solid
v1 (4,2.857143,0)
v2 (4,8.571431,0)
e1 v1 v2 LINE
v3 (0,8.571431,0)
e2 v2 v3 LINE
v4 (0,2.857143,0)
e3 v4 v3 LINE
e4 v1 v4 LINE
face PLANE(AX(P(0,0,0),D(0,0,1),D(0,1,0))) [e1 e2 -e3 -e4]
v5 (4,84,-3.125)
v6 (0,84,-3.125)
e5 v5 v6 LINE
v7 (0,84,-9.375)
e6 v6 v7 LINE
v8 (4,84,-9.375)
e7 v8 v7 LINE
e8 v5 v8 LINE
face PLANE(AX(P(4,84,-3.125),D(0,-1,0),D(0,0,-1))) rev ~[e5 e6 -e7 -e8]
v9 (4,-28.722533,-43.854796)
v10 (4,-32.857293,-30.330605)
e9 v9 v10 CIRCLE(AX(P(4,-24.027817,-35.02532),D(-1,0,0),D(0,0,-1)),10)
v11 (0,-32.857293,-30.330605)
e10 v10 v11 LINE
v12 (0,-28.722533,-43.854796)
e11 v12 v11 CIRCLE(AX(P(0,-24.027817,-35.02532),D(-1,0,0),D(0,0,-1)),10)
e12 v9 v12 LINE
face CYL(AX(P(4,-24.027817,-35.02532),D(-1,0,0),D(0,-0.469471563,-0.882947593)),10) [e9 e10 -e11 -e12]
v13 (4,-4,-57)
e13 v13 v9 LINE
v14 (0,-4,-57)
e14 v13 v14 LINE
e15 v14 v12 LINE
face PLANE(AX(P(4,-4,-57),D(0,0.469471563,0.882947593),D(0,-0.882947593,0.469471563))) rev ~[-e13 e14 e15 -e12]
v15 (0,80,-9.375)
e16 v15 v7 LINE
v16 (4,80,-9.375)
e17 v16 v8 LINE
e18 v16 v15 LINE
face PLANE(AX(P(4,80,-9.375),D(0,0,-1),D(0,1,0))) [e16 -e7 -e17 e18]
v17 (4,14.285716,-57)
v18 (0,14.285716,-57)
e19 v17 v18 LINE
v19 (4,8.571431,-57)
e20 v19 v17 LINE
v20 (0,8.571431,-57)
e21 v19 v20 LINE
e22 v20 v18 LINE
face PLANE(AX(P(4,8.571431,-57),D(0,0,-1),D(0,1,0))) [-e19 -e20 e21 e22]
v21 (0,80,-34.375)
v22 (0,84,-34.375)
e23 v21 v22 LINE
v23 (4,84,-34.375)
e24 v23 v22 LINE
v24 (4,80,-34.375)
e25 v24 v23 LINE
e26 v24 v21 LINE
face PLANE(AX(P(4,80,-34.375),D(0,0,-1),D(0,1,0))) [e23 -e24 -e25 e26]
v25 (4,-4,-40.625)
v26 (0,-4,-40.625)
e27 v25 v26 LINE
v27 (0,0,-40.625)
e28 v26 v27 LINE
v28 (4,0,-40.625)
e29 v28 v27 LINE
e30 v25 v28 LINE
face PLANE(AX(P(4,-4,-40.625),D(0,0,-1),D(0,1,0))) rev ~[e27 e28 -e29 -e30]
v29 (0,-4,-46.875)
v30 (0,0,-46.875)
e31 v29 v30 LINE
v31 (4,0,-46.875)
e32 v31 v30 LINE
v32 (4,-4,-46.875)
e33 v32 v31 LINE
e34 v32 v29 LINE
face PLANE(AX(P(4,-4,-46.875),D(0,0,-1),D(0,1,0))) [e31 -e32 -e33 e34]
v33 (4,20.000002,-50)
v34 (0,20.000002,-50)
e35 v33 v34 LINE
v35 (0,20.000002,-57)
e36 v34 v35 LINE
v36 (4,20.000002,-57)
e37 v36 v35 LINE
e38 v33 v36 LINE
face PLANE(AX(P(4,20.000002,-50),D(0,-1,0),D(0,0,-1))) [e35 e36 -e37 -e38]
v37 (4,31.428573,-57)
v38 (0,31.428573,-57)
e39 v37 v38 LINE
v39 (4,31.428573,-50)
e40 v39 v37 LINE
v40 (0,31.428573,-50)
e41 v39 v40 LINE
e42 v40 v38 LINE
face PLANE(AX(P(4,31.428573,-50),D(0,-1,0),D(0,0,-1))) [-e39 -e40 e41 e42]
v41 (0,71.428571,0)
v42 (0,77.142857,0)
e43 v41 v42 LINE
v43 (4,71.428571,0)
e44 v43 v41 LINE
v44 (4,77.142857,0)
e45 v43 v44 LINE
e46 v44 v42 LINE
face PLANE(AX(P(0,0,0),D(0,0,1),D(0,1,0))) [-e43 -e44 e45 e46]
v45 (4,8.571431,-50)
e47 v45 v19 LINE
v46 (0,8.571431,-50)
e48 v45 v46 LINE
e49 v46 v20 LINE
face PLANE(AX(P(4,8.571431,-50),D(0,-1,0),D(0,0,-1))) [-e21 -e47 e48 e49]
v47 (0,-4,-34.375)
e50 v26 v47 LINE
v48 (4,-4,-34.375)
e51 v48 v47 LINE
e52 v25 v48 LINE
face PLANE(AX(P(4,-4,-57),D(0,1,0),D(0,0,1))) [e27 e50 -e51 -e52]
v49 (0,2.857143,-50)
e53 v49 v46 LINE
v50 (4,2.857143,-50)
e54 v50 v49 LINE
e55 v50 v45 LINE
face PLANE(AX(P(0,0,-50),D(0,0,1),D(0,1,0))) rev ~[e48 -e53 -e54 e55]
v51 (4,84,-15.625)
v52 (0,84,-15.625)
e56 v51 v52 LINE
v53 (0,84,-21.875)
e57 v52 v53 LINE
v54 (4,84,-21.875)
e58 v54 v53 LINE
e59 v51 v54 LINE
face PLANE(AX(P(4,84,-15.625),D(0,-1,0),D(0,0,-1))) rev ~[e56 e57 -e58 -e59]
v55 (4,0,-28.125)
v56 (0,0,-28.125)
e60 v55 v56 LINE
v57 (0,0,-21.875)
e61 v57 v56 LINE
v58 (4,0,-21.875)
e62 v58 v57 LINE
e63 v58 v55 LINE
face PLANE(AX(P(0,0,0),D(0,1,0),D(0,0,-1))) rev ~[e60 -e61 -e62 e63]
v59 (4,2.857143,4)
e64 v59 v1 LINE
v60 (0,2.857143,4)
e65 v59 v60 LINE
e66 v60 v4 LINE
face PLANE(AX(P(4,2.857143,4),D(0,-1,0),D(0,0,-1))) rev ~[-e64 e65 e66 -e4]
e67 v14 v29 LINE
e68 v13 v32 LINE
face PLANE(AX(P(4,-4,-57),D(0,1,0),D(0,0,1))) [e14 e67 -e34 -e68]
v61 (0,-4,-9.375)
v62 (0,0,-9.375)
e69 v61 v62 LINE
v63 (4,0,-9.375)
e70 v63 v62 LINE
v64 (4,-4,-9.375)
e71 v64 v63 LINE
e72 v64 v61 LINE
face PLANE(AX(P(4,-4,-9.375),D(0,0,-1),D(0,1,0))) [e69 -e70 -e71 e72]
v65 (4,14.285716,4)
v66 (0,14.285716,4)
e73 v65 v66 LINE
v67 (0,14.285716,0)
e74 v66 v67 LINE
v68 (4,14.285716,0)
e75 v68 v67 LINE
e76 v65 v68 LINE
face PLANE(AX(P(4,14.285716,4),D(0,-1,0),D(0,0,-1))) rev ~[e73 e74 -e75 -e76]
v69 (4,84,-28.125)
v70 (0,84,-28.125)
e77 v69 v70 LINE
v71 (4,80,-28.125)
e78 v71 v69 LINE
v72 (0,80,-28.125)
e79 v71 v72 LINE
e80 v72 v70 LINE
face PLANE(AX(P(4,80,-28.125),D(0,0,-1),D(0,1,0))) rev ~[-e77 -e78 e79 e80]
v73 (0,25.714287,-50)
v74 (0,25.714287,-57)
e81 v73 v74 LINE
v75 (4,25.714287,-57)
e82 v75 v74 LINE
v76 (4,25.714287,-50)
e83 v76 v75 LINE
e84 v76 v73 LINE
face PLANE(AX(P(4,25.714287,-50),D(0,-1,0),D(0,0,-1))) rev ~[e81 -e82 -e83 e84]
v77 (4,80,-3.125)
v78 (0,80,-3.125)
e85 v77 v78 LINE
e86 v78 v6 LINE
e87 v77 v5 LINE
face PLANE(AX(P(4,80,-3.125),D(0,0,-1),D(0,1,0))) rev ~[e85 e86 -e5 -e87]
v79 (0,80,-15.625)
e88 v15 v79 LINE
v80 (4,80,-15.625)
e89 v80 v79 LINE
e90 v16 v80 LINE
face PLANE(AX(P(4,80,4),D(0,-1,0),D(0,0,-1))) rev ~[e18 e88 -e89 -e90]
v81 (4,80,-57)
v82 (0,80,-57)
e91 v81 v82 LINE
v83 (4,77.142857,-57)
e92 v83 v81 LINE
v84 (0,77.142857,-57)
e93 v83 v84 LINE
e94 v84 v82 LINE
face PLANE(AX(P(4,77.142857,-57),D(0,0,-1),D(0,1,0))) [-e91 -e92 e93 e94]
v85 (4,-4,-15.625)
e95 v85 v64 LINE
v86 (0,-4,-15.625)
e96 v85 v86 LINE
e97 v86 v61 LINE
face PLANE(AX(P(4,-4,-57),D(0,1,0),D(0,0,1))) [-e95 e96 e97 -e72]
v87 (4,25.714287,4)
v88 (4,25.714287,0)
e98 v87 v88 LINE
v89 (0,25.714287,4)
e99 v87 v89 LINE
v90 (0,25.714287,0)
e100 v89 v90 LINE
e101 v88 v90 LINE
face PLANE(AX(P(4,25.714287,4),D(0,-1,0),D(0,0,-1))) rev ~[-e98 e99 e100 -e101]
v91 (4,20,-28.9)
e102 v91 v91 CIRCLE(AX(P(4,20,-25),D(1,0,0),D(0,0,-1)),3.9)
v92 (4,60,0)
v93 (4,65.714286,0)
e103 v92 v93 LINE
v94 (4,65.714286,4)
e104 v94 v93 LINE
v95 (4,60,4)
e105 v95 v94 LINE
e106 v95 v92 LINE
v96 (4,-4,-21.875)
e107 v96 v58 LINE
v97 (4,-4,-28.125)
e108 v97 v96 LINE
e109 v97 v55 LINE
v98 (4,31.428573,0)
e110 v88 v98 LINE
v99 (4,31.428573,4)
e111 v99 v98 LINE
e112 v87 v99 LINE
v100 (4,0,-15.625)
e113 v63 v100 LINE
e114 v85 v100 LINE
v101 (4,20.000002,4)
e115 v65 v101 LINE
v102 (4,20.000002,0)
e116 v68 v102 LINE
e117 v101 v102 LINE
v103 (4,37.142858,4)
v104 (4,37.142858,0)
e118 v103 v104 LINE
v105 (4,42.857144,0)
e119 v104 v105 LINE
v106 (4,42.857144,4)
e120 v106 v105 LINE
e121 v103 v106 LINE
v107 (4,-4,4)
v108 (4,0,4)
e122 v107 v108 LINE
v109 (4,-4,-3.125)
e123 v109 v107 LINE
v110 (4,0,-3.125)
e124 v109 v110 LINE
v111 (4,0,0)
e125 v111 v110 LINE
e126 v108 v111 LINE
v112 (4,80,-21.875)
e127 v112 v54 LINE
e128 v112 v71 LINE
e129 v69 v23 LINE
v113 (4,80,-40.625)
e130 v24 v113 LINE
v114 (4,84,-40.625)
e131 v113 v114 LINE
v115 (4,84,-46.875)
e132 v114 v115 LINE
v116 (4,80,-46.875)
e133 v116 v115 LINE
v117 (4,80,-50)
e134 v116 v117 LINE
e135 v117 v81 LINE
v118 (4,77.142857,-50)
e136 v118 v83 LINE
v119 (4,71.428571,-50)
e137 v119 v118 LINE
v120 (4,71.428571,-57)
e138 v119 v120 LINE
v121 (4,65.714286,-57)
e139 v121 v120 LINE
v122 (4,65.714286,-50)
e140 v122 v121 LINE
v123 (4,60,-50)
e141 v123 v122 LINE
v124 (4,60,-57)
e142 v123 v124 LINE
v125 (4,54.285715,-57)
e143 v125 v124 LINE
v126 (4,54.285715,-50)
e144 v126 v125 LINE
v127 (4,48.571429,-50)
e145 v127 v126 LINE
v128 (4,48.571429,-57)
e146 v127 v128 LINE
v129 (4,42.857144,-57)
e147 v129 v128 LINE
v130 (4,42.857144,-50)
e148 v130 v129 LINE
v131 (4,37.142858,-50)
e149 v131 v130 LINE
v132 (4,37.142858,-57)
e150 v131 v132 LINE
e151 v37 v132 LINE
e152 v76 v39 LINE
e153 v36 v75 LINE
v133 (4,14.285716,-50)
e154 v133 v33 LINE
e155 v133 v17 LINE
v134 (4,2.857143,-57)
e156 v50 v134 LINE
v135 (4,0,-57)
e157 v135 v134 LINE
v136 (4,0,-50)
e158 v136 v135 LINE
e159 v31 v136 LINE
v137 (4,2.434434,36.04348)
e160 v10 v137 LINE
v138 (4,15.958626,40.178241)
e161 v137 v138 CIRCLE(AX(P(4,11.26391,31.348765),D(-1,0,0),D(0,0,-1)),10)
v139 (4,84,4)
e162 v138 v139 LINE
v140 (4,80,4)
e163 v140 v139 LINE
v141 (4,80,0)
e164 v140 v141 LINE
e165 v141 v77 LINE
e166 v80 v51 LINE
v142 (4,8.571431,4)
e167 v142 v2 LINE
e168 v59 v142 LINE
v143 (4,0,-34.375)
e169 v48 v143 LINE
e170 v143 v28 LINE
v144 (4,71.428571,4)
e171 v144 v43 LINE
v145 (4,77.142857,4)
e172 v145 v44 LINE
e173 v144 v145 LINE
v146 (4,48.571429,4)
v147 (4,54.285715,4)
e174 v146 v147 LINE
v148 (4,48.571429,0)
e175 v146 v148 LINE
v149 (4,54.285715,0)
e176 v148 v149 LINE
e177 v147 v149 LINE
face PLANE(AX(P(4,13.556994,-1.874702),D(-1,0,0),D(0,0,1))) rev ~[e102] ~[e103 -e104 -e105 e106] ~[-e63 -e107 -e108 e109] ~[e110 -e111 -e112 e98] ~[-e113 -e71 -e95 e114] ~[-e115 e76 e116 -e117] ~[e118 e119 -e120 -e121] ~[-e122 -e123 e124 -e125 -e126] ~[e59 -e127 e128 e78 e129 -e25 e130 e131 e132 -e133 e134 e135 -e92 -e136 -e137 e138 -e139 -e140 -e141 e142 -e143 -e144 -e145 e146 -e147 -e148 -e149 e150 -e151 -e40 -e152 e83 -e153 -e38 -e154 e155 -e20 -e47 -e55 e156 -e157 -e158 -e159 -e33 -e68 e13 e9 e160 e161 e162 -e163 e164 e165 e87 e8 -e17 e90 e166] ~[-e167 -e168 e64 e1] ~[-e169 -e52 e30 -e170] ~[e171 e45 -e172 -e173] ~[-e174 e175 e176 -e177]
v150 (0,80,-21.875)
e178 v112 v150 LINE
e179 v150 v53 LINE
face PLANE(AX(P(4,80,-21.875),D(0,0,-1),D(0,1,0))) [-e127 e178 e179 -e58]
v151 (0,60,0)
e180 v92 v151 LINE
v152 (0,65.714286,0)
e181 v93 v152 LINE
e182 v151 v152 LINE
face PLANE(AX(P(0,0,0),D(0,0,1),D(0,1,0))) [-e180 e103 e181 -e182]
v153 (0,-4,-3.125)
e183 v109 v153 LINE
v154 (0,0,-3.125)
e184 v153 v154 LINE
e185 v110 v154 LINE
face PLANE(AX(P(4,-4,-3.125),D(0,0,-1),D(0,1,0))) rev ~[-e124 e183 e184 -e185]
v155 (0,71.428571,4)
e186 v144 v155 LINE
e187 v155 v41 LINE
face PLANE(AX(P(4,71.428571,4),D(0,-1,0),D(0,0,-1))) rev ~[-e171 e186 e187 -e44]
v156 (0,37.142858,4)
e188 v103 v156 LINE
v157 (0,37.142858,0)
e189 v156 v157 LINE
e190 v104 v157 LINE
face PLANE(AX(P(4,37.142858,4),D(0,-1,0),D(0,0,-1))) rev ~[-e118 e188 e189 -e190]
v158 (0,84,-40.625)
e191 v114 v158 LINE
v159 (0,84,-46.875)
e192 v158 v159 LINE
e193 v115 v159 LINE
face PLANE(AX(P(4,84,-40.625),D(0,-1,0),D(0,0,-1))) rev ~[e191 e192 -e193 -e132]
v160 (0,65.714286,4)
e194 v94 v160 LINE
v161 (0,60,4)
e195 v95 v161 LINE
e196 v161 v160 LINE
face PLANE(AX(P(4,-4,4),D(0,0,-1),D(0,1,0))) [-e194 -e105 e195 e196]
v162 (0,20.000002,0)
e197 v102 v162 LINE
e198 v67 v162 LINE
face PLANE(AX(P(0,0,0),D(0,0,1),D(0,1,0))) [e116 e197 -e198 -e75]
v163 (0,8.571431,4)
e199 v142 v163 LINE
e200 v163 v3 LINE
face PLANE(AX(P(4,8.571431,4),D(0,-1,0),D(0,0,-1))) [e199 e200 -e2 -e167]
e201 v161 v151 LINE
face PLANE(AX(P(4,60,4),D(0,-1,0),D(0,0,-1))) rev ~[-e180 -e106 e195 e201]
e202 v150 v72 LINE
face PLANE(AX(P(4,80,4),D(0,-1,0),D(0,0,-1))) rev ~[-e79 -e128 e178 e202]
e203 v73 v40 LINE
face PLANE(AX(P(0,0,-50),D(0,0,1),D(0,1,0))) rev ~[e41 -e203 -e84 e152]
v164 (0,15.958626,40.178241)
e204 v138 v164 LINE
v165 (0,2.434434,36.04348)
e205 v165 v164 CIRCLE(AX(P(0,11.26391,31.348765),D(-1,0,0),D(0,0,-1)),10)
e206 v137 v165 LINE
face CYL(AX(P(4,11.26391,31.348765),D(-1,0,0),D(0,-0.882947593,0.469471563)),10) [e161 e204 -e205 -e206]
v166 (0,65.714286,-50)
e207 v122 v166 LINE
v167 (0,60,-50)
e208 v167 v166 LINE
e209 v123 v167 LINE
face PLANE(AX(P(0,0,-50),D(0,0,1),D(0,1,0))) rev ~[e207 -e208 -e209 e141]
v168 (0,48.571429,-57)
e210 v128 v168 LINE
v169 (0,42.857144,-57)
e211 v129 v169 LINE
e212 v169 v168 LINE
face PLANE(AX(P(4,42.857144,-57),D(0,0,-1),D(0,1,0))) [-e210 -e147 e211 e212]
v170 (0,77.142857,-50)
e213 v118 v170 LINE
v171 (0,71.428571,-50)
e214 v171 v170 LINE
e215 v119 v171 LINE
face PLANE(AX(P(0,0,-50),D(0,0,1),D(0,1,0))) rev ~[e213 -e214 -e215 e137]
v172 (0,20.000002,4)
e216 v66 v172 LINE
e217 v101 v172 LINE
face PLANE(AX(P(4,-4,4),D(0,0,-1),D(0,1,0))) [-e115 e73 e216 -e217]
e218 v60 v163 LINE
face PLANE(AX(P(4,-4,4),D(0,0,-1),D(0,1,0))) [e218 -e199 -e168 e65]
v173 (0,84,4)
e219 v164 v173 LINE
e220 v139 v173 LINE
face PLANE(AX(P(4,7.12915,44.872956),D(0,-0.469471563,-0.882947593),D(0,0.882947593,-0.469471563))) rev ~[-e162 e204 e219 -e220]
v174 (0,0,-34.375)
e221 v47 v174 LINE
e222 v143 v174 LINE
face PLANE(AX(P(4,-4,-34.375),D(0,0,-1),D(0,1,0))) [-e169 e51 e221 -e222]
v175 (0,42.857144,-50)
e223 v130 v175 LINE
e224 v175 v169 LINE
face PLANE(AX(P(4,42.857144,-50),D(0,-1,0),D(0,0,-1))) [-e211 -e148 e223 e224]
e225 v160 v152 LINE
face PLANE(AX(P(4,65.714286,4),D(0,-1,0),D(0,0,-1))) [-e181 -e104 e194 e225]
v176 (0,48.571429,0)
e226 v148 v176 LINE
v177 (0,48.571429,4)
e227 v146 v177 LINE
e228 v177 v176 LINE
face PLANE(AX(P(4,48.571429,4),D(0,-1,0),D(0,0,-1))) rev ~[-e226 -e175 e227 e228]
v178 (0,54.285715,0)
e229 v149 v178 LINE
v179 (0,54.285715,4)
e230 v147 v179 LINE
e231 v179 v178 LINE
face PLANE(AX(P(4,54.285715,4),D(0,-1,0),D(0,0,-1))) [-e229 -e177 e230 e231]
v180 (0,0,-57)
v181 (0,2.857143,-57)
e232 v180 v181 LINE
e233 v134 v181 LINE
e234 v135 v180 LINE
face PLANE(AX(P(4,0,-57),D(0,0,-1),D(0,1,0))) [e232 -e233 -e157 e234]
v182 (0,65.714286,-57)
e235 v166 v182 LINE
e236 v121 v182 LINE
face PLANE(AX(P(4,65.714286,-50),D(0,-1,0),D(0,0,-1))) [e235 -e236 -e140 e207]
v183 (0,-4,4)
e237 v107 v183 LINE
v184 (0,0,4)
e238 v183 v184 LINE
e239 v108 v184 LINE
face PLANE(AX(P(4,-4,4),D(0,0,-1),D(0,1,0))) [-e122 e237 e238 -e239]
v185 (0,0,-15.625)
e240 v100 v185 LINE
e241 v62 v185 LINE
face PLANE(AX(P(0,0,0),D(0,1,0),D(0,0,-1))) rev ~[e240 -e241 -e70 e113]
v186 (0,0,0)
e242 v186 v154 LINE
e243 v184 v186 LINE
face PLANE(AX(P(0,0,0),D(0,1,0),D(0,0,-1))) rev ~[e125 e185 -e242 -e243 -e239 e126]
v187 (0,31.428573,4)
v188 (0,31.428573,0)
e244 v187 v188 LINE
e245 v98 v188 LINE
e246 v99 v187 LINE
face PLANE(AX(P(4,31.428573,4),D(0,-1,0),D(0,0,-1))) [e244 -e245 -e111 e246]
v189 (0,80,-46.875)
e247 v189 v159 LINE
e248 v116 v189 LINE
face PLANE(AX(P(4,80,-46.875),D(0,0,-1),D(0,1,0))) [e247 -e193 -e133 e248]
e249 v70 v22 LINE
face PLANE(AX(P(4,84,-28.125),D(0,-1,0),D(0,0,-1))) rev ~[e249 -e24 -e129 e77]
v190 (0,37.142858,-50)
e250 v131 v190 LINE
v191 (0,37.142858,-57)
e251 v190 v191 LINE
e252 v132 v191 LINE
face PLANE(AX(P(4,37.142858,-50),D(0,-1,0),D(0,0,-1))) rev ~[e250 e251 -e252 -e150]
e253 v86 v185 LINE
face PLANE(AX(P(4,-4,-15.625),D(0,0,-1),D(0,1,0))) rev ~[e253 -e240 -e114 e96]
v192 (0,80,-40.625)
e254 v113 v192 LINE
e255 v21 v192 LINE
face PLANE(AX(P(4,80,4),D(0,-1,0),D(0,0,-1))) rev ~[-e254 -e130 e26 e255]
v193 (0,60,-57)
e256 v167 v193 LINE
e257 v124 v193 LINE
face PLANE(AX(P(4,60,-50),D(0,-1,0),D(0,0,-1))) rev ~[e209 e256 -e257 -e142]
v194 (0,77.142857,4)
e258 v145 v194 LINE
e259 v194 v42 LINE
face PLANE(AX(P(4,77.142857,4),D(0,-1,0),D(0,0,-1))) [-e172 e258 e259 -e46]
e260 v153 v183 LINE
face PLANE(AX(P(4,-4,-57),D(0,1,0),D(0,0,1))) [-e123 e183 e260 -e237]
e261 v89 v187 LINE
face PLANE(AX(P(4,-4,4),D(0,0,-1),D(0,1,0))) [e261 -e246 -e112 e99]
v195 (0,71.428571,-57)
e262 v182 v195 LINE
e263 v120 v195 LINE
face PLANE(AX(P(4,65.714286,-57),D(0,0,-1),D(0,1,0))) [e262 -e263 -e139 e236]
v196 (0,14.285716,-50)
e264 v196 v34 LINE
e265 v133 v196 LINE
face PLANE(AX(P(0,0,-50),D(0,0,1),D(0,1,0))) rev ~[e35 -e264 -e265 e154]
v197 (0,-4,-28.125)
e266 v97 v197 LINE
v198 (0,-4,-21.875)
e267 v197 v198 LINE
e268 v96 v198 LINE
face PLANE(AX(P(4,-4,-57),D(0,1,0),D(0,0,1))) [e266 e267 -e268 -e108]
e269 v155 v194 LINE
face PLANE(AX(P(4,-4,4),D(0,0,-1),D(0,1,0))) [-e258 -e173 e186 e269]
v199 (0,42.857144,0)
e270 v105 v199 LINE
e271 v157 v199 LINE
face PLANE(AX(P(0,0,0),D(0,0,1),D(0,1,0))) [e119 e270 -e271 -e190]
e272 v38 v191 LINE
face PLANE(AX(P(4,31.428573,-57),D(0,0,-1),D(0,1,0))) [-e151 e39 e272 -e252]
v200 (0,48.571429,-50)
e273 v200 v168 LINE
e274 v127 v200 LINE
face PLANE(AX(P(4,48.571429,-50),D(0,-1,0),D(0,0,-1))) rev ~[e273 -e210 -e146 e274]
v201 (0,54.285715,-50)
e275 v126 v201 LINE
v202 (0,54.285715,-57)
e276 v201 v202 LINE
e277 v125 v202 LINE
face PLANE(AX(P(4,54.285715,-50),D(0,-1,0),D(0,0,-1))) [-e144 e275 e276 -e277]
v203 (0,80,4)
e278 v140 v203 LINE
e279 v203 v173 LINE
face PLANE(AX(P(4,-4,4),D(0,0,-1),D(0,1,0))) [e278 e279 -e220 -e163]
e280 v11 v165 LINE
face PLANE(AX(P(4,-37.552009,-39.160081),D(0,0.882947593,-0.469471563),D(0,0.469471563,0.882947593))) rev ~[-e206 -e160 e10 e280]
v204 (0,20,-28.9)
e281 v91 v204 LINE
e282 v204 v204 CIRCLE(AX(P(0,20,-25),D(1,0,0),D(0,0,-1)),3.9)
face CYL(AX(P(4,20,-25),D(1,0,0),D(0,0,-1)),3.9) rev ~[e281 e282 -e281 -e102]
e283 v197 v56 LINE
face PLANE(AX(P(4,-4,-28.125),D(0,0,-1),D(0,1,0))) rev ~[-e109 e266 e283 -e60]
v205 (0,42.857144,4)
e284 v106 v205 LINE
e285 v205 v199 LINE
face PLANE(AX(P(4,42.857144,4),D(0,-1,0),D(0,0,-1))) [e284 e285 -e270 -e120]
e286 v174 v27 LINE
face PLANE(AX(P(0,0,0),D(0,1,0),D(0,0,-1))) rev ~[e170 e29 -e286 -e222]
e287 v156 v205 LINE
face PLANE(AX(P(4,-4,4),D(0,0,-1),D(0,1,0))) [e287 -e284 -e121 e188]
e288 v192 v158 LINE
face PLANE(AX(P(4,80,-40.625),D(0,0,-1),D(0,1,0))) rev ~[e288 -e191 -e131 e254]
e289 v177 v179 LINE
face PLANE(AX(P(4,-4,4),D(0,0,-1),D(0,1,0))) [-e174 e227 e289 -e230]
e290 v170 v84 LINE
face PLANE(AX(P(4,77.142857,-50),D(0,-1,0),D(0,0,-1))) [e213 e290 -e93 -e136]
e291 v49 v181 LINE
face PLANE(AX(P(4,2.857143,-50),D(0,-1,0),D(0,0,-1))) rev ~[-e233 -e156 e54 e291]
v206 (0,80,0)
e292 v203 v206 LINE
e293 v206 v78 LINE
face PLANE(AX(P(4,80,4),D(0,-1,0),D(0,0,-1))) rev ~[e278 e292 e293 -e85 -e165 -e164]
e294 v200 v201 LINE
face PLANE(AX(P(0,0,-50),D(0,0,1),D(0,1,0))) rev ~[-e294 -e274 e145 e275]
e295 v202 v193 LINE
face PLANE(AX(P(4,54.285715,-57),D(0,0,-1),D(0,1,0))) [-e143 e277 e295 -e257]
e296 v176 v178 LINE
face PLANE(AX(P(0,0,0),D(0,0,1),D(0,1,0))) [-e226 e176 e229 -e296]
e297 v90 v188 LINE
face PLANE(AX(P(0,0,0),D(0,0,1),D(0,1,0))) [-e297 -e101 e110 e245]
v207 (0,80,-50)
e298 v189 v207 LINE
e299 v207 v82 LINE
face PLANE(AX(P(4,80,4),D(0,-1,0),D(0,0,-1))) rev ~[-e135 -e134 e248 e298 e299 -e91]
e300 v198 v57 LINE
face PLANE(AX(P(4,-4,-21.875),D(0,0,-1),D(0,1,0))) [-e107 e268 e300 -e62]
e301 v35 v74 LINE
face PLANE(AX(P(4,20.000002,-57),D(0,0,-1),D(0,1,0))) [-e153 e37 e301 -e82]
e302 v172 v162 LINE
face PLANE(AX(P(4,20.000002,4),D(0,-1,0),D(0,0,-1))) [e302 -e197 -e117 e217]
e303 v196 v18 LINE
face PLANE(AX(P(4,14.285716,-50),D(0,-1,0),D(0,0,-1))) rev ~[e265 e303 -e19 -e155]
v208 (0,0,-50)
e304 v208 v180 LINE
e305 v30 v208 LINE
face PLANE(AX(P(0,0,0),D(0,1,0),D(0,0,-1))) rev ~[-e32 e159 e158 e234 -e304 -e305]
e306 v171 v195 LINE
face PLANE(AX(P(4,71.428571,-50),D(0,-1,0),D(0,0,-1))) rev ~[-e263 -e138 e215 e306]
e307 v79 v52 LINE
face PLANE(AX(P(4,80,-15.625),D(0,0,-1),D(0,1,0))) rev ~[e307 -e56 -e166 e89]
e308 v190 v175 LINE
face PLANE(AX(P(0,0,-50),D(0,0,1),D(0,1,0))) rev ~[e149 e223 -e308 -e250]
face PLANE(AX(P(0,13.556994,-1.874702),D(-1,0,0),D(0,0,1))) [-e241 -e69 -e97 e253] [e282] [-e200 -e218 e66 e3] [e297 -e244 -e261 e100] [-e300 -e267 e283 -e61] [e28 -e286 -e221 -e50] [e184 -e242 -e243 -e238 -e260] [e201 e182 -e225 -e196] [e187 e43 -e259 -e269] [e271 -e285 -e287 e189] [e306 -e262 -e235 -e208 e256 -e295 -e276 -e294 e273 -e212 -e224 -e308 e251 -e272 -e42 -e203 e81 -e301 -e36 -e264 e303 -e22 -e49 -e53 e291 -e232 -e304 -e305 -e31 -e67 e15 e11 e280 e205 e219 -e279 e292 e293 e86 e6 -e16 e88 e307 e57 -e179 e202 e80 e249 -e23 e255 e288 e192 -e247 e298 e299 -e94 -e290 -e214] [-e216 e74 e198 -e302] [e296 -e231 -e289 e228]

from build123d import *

# Parameters (mm, degrees)
SCHIZZO1_W                   = 50
SCHIZZO1_H                   = 80
ESTRUSIONE_ESTRUSIONE1_DEPTH = 4
SCHIZZO2_W                   = 4
SCHIZZO2_H                   = 2.857142857
SCHIZZO2_W_2                 = 7
ESTRUSIONE_ESTRUSIONE2_DEPTH = 4
SCHIZZO3_W                   = 4
SCHIZZO3_H                   = 5.714285715
SCHIZZO3_W_2                 = 7
ESTRUSIONE_ESTRUSIONE3_DEPTH = 4
RIPETIZIONE_A_L1_COUNT       = 6
RIPETIZIONE_A_L1_PITCH       = 11.428571
SCHIZZO4_W                   = 6.25
SCHIZZO4_H                   = 4
ESTRUSIONE_ESTRUSIONE4_DEPTH = 4
RIPETIZIONE_A_L2_COUNT       = 4
RIPETIZIONE_A_L2_PITCH       = 12.5
ESTRUSIONE_ESTRUSIONE5_DEPTH = 4
RACCORDO1_R                  = 10
SCHIZZO6_R                   = 3.9
TAGLIO_ESTRUSIONE1_DEPTH     = 4


with BuildPart() as part:
    # Schizzo1 → Estrusione-Estrusione1 (new body)
    with BuildSketch(Plane(origin=(0, 0, 0), x_dir=(0, 0, -1), z_dir=(1, 0, 0))):
        with Locations((25, 40)):
            Rectangle(SCHIZZO1_W, SCHIZZO1_H)
    extrude(amount=ESTRUSIONE_ESTRUSIONE1_DEPTH)

    # Schizzo2 → Estrusione-Estrusione2 (add)
    with BuildSketch(Plane(origin=(4, 0, 0), x_dir=(0, 0, -1), z_dir=(1, 0, 0))):
        with Locations((-2, 78.571428572)):
            Rectangle(SCHIZZO2_W, SCHIZZO2_H)
        with Locations((53.5, 78.571428572)):
            Rectangle(SCHIZZO2_W_2, SCHIZZO2_H)
        with Locations((53.5, 1.428571429)):
            Rectangle(SCHIZZO2_W_2, SCHIZZO2_H)
        with Locations((-2, 1.428571429)):
            Rectangle(SCHIZZO2_W, SCHIZZO2_H)
    extrude(amount=-ESTRUSIONE_ESTRUSIONE2_DEPTH)

    # Schizzo3 → Estrusione-Estrusione3 (add)
    with BuildSketch(Plane(origin=(4, 0, 0), x_dir=(0, 0, -1), z_dir=(1, 0, 0))):
        with Locations((-2, 68.571428572)):
            Rectangle(SCHIZZO3_W, SCHIZZO3_H)
        with Locations((53.5, 68.571428572)):
            Rectangle(SCHIZZO3_W_2, SCHIZZO3_H)
    estrusione_estrusione3 = extrude(amount=-ESTRUSIONE_ESTRUSIONE3_DEPTH)

    # Ripetizione a L1: Estrusione-Estrusione3 ×6
    with Locations(*[(0, -i * RIPETIZIONE_A_L1_PITCH, 0) for i in range(1, RIPETIZIONE_A_L1_COUNT)]):
        add(estrusione_estrusione3)

    # Schizzo4 → Estrusione-Estrusione4 (add)
    with BuildSketch(Plane(origin=(4, 0, 0), x_dir=(0, 0, -1), z_dir=(1, 0, 0))):
        with Locations((6.25, 82)):
            Rectangle(SCHIZZO4_W, SCHIZZO4_H)
        with Locations((6.25, -2)):
            Rectangle(SCHIZZO4_W, SCHIZZO4_H)
    estrusione_estrusione4 = extrude(amount=-ESTRUSIONE_ESTRUSIONE4_DEPTH)

    # Ripetizione a L2: Estrusione-Estrusione4 ×4
    with Locations(*[(0, 0, -i * RIPETIZIONE_A_L2_PITCH) for i in range(1, RIPETIZIONE_A_L2_COUNT)]):
        add(estrusione_estrusione4)

    # Schizzo5 → Estrusione-Estrusione5 (add)
    with BuildSketch(Plane(origin=(4, 0, 0), x_dir=(0, 0, -1), z_dir=(1, 0, 0))):
        Polygon((46.875, -4), (57, -4), (39.160080614, -37.552008529), (-44.872956134, 7.129149682), (-4, 84), (-4, 80), (-4, -4), align=None)
    extrude(amount=-ESTRUSIONE_ESTRUSIONE5_DEPTH)

    # Raccordo1
    raccordo1_edges = [part.edges().sort_by_distance(p)[0] for p in [
        (2, -37.552008529, -39.160080614),
        (2, 7.129149682, 44.872956134),
    ]]
    fillet(raccordo1_edges, radius=RACCORDO1_R)

    # Schizzo6 → Taglio-Estrusione1 (cut)
    with BuildSketch(Plane(origin=(4, 0, 0), x_dir=(0, 0, -1), z_dir=(1, 0, 0))):
        with Locations((25, 20)):
            Circle(SCHIZZO6_R)
    extrude(amount=-TAGLIO_ESTRUSIONE1_DEPTH, mode=Mode.SUBTRACT)


solid = part.part
